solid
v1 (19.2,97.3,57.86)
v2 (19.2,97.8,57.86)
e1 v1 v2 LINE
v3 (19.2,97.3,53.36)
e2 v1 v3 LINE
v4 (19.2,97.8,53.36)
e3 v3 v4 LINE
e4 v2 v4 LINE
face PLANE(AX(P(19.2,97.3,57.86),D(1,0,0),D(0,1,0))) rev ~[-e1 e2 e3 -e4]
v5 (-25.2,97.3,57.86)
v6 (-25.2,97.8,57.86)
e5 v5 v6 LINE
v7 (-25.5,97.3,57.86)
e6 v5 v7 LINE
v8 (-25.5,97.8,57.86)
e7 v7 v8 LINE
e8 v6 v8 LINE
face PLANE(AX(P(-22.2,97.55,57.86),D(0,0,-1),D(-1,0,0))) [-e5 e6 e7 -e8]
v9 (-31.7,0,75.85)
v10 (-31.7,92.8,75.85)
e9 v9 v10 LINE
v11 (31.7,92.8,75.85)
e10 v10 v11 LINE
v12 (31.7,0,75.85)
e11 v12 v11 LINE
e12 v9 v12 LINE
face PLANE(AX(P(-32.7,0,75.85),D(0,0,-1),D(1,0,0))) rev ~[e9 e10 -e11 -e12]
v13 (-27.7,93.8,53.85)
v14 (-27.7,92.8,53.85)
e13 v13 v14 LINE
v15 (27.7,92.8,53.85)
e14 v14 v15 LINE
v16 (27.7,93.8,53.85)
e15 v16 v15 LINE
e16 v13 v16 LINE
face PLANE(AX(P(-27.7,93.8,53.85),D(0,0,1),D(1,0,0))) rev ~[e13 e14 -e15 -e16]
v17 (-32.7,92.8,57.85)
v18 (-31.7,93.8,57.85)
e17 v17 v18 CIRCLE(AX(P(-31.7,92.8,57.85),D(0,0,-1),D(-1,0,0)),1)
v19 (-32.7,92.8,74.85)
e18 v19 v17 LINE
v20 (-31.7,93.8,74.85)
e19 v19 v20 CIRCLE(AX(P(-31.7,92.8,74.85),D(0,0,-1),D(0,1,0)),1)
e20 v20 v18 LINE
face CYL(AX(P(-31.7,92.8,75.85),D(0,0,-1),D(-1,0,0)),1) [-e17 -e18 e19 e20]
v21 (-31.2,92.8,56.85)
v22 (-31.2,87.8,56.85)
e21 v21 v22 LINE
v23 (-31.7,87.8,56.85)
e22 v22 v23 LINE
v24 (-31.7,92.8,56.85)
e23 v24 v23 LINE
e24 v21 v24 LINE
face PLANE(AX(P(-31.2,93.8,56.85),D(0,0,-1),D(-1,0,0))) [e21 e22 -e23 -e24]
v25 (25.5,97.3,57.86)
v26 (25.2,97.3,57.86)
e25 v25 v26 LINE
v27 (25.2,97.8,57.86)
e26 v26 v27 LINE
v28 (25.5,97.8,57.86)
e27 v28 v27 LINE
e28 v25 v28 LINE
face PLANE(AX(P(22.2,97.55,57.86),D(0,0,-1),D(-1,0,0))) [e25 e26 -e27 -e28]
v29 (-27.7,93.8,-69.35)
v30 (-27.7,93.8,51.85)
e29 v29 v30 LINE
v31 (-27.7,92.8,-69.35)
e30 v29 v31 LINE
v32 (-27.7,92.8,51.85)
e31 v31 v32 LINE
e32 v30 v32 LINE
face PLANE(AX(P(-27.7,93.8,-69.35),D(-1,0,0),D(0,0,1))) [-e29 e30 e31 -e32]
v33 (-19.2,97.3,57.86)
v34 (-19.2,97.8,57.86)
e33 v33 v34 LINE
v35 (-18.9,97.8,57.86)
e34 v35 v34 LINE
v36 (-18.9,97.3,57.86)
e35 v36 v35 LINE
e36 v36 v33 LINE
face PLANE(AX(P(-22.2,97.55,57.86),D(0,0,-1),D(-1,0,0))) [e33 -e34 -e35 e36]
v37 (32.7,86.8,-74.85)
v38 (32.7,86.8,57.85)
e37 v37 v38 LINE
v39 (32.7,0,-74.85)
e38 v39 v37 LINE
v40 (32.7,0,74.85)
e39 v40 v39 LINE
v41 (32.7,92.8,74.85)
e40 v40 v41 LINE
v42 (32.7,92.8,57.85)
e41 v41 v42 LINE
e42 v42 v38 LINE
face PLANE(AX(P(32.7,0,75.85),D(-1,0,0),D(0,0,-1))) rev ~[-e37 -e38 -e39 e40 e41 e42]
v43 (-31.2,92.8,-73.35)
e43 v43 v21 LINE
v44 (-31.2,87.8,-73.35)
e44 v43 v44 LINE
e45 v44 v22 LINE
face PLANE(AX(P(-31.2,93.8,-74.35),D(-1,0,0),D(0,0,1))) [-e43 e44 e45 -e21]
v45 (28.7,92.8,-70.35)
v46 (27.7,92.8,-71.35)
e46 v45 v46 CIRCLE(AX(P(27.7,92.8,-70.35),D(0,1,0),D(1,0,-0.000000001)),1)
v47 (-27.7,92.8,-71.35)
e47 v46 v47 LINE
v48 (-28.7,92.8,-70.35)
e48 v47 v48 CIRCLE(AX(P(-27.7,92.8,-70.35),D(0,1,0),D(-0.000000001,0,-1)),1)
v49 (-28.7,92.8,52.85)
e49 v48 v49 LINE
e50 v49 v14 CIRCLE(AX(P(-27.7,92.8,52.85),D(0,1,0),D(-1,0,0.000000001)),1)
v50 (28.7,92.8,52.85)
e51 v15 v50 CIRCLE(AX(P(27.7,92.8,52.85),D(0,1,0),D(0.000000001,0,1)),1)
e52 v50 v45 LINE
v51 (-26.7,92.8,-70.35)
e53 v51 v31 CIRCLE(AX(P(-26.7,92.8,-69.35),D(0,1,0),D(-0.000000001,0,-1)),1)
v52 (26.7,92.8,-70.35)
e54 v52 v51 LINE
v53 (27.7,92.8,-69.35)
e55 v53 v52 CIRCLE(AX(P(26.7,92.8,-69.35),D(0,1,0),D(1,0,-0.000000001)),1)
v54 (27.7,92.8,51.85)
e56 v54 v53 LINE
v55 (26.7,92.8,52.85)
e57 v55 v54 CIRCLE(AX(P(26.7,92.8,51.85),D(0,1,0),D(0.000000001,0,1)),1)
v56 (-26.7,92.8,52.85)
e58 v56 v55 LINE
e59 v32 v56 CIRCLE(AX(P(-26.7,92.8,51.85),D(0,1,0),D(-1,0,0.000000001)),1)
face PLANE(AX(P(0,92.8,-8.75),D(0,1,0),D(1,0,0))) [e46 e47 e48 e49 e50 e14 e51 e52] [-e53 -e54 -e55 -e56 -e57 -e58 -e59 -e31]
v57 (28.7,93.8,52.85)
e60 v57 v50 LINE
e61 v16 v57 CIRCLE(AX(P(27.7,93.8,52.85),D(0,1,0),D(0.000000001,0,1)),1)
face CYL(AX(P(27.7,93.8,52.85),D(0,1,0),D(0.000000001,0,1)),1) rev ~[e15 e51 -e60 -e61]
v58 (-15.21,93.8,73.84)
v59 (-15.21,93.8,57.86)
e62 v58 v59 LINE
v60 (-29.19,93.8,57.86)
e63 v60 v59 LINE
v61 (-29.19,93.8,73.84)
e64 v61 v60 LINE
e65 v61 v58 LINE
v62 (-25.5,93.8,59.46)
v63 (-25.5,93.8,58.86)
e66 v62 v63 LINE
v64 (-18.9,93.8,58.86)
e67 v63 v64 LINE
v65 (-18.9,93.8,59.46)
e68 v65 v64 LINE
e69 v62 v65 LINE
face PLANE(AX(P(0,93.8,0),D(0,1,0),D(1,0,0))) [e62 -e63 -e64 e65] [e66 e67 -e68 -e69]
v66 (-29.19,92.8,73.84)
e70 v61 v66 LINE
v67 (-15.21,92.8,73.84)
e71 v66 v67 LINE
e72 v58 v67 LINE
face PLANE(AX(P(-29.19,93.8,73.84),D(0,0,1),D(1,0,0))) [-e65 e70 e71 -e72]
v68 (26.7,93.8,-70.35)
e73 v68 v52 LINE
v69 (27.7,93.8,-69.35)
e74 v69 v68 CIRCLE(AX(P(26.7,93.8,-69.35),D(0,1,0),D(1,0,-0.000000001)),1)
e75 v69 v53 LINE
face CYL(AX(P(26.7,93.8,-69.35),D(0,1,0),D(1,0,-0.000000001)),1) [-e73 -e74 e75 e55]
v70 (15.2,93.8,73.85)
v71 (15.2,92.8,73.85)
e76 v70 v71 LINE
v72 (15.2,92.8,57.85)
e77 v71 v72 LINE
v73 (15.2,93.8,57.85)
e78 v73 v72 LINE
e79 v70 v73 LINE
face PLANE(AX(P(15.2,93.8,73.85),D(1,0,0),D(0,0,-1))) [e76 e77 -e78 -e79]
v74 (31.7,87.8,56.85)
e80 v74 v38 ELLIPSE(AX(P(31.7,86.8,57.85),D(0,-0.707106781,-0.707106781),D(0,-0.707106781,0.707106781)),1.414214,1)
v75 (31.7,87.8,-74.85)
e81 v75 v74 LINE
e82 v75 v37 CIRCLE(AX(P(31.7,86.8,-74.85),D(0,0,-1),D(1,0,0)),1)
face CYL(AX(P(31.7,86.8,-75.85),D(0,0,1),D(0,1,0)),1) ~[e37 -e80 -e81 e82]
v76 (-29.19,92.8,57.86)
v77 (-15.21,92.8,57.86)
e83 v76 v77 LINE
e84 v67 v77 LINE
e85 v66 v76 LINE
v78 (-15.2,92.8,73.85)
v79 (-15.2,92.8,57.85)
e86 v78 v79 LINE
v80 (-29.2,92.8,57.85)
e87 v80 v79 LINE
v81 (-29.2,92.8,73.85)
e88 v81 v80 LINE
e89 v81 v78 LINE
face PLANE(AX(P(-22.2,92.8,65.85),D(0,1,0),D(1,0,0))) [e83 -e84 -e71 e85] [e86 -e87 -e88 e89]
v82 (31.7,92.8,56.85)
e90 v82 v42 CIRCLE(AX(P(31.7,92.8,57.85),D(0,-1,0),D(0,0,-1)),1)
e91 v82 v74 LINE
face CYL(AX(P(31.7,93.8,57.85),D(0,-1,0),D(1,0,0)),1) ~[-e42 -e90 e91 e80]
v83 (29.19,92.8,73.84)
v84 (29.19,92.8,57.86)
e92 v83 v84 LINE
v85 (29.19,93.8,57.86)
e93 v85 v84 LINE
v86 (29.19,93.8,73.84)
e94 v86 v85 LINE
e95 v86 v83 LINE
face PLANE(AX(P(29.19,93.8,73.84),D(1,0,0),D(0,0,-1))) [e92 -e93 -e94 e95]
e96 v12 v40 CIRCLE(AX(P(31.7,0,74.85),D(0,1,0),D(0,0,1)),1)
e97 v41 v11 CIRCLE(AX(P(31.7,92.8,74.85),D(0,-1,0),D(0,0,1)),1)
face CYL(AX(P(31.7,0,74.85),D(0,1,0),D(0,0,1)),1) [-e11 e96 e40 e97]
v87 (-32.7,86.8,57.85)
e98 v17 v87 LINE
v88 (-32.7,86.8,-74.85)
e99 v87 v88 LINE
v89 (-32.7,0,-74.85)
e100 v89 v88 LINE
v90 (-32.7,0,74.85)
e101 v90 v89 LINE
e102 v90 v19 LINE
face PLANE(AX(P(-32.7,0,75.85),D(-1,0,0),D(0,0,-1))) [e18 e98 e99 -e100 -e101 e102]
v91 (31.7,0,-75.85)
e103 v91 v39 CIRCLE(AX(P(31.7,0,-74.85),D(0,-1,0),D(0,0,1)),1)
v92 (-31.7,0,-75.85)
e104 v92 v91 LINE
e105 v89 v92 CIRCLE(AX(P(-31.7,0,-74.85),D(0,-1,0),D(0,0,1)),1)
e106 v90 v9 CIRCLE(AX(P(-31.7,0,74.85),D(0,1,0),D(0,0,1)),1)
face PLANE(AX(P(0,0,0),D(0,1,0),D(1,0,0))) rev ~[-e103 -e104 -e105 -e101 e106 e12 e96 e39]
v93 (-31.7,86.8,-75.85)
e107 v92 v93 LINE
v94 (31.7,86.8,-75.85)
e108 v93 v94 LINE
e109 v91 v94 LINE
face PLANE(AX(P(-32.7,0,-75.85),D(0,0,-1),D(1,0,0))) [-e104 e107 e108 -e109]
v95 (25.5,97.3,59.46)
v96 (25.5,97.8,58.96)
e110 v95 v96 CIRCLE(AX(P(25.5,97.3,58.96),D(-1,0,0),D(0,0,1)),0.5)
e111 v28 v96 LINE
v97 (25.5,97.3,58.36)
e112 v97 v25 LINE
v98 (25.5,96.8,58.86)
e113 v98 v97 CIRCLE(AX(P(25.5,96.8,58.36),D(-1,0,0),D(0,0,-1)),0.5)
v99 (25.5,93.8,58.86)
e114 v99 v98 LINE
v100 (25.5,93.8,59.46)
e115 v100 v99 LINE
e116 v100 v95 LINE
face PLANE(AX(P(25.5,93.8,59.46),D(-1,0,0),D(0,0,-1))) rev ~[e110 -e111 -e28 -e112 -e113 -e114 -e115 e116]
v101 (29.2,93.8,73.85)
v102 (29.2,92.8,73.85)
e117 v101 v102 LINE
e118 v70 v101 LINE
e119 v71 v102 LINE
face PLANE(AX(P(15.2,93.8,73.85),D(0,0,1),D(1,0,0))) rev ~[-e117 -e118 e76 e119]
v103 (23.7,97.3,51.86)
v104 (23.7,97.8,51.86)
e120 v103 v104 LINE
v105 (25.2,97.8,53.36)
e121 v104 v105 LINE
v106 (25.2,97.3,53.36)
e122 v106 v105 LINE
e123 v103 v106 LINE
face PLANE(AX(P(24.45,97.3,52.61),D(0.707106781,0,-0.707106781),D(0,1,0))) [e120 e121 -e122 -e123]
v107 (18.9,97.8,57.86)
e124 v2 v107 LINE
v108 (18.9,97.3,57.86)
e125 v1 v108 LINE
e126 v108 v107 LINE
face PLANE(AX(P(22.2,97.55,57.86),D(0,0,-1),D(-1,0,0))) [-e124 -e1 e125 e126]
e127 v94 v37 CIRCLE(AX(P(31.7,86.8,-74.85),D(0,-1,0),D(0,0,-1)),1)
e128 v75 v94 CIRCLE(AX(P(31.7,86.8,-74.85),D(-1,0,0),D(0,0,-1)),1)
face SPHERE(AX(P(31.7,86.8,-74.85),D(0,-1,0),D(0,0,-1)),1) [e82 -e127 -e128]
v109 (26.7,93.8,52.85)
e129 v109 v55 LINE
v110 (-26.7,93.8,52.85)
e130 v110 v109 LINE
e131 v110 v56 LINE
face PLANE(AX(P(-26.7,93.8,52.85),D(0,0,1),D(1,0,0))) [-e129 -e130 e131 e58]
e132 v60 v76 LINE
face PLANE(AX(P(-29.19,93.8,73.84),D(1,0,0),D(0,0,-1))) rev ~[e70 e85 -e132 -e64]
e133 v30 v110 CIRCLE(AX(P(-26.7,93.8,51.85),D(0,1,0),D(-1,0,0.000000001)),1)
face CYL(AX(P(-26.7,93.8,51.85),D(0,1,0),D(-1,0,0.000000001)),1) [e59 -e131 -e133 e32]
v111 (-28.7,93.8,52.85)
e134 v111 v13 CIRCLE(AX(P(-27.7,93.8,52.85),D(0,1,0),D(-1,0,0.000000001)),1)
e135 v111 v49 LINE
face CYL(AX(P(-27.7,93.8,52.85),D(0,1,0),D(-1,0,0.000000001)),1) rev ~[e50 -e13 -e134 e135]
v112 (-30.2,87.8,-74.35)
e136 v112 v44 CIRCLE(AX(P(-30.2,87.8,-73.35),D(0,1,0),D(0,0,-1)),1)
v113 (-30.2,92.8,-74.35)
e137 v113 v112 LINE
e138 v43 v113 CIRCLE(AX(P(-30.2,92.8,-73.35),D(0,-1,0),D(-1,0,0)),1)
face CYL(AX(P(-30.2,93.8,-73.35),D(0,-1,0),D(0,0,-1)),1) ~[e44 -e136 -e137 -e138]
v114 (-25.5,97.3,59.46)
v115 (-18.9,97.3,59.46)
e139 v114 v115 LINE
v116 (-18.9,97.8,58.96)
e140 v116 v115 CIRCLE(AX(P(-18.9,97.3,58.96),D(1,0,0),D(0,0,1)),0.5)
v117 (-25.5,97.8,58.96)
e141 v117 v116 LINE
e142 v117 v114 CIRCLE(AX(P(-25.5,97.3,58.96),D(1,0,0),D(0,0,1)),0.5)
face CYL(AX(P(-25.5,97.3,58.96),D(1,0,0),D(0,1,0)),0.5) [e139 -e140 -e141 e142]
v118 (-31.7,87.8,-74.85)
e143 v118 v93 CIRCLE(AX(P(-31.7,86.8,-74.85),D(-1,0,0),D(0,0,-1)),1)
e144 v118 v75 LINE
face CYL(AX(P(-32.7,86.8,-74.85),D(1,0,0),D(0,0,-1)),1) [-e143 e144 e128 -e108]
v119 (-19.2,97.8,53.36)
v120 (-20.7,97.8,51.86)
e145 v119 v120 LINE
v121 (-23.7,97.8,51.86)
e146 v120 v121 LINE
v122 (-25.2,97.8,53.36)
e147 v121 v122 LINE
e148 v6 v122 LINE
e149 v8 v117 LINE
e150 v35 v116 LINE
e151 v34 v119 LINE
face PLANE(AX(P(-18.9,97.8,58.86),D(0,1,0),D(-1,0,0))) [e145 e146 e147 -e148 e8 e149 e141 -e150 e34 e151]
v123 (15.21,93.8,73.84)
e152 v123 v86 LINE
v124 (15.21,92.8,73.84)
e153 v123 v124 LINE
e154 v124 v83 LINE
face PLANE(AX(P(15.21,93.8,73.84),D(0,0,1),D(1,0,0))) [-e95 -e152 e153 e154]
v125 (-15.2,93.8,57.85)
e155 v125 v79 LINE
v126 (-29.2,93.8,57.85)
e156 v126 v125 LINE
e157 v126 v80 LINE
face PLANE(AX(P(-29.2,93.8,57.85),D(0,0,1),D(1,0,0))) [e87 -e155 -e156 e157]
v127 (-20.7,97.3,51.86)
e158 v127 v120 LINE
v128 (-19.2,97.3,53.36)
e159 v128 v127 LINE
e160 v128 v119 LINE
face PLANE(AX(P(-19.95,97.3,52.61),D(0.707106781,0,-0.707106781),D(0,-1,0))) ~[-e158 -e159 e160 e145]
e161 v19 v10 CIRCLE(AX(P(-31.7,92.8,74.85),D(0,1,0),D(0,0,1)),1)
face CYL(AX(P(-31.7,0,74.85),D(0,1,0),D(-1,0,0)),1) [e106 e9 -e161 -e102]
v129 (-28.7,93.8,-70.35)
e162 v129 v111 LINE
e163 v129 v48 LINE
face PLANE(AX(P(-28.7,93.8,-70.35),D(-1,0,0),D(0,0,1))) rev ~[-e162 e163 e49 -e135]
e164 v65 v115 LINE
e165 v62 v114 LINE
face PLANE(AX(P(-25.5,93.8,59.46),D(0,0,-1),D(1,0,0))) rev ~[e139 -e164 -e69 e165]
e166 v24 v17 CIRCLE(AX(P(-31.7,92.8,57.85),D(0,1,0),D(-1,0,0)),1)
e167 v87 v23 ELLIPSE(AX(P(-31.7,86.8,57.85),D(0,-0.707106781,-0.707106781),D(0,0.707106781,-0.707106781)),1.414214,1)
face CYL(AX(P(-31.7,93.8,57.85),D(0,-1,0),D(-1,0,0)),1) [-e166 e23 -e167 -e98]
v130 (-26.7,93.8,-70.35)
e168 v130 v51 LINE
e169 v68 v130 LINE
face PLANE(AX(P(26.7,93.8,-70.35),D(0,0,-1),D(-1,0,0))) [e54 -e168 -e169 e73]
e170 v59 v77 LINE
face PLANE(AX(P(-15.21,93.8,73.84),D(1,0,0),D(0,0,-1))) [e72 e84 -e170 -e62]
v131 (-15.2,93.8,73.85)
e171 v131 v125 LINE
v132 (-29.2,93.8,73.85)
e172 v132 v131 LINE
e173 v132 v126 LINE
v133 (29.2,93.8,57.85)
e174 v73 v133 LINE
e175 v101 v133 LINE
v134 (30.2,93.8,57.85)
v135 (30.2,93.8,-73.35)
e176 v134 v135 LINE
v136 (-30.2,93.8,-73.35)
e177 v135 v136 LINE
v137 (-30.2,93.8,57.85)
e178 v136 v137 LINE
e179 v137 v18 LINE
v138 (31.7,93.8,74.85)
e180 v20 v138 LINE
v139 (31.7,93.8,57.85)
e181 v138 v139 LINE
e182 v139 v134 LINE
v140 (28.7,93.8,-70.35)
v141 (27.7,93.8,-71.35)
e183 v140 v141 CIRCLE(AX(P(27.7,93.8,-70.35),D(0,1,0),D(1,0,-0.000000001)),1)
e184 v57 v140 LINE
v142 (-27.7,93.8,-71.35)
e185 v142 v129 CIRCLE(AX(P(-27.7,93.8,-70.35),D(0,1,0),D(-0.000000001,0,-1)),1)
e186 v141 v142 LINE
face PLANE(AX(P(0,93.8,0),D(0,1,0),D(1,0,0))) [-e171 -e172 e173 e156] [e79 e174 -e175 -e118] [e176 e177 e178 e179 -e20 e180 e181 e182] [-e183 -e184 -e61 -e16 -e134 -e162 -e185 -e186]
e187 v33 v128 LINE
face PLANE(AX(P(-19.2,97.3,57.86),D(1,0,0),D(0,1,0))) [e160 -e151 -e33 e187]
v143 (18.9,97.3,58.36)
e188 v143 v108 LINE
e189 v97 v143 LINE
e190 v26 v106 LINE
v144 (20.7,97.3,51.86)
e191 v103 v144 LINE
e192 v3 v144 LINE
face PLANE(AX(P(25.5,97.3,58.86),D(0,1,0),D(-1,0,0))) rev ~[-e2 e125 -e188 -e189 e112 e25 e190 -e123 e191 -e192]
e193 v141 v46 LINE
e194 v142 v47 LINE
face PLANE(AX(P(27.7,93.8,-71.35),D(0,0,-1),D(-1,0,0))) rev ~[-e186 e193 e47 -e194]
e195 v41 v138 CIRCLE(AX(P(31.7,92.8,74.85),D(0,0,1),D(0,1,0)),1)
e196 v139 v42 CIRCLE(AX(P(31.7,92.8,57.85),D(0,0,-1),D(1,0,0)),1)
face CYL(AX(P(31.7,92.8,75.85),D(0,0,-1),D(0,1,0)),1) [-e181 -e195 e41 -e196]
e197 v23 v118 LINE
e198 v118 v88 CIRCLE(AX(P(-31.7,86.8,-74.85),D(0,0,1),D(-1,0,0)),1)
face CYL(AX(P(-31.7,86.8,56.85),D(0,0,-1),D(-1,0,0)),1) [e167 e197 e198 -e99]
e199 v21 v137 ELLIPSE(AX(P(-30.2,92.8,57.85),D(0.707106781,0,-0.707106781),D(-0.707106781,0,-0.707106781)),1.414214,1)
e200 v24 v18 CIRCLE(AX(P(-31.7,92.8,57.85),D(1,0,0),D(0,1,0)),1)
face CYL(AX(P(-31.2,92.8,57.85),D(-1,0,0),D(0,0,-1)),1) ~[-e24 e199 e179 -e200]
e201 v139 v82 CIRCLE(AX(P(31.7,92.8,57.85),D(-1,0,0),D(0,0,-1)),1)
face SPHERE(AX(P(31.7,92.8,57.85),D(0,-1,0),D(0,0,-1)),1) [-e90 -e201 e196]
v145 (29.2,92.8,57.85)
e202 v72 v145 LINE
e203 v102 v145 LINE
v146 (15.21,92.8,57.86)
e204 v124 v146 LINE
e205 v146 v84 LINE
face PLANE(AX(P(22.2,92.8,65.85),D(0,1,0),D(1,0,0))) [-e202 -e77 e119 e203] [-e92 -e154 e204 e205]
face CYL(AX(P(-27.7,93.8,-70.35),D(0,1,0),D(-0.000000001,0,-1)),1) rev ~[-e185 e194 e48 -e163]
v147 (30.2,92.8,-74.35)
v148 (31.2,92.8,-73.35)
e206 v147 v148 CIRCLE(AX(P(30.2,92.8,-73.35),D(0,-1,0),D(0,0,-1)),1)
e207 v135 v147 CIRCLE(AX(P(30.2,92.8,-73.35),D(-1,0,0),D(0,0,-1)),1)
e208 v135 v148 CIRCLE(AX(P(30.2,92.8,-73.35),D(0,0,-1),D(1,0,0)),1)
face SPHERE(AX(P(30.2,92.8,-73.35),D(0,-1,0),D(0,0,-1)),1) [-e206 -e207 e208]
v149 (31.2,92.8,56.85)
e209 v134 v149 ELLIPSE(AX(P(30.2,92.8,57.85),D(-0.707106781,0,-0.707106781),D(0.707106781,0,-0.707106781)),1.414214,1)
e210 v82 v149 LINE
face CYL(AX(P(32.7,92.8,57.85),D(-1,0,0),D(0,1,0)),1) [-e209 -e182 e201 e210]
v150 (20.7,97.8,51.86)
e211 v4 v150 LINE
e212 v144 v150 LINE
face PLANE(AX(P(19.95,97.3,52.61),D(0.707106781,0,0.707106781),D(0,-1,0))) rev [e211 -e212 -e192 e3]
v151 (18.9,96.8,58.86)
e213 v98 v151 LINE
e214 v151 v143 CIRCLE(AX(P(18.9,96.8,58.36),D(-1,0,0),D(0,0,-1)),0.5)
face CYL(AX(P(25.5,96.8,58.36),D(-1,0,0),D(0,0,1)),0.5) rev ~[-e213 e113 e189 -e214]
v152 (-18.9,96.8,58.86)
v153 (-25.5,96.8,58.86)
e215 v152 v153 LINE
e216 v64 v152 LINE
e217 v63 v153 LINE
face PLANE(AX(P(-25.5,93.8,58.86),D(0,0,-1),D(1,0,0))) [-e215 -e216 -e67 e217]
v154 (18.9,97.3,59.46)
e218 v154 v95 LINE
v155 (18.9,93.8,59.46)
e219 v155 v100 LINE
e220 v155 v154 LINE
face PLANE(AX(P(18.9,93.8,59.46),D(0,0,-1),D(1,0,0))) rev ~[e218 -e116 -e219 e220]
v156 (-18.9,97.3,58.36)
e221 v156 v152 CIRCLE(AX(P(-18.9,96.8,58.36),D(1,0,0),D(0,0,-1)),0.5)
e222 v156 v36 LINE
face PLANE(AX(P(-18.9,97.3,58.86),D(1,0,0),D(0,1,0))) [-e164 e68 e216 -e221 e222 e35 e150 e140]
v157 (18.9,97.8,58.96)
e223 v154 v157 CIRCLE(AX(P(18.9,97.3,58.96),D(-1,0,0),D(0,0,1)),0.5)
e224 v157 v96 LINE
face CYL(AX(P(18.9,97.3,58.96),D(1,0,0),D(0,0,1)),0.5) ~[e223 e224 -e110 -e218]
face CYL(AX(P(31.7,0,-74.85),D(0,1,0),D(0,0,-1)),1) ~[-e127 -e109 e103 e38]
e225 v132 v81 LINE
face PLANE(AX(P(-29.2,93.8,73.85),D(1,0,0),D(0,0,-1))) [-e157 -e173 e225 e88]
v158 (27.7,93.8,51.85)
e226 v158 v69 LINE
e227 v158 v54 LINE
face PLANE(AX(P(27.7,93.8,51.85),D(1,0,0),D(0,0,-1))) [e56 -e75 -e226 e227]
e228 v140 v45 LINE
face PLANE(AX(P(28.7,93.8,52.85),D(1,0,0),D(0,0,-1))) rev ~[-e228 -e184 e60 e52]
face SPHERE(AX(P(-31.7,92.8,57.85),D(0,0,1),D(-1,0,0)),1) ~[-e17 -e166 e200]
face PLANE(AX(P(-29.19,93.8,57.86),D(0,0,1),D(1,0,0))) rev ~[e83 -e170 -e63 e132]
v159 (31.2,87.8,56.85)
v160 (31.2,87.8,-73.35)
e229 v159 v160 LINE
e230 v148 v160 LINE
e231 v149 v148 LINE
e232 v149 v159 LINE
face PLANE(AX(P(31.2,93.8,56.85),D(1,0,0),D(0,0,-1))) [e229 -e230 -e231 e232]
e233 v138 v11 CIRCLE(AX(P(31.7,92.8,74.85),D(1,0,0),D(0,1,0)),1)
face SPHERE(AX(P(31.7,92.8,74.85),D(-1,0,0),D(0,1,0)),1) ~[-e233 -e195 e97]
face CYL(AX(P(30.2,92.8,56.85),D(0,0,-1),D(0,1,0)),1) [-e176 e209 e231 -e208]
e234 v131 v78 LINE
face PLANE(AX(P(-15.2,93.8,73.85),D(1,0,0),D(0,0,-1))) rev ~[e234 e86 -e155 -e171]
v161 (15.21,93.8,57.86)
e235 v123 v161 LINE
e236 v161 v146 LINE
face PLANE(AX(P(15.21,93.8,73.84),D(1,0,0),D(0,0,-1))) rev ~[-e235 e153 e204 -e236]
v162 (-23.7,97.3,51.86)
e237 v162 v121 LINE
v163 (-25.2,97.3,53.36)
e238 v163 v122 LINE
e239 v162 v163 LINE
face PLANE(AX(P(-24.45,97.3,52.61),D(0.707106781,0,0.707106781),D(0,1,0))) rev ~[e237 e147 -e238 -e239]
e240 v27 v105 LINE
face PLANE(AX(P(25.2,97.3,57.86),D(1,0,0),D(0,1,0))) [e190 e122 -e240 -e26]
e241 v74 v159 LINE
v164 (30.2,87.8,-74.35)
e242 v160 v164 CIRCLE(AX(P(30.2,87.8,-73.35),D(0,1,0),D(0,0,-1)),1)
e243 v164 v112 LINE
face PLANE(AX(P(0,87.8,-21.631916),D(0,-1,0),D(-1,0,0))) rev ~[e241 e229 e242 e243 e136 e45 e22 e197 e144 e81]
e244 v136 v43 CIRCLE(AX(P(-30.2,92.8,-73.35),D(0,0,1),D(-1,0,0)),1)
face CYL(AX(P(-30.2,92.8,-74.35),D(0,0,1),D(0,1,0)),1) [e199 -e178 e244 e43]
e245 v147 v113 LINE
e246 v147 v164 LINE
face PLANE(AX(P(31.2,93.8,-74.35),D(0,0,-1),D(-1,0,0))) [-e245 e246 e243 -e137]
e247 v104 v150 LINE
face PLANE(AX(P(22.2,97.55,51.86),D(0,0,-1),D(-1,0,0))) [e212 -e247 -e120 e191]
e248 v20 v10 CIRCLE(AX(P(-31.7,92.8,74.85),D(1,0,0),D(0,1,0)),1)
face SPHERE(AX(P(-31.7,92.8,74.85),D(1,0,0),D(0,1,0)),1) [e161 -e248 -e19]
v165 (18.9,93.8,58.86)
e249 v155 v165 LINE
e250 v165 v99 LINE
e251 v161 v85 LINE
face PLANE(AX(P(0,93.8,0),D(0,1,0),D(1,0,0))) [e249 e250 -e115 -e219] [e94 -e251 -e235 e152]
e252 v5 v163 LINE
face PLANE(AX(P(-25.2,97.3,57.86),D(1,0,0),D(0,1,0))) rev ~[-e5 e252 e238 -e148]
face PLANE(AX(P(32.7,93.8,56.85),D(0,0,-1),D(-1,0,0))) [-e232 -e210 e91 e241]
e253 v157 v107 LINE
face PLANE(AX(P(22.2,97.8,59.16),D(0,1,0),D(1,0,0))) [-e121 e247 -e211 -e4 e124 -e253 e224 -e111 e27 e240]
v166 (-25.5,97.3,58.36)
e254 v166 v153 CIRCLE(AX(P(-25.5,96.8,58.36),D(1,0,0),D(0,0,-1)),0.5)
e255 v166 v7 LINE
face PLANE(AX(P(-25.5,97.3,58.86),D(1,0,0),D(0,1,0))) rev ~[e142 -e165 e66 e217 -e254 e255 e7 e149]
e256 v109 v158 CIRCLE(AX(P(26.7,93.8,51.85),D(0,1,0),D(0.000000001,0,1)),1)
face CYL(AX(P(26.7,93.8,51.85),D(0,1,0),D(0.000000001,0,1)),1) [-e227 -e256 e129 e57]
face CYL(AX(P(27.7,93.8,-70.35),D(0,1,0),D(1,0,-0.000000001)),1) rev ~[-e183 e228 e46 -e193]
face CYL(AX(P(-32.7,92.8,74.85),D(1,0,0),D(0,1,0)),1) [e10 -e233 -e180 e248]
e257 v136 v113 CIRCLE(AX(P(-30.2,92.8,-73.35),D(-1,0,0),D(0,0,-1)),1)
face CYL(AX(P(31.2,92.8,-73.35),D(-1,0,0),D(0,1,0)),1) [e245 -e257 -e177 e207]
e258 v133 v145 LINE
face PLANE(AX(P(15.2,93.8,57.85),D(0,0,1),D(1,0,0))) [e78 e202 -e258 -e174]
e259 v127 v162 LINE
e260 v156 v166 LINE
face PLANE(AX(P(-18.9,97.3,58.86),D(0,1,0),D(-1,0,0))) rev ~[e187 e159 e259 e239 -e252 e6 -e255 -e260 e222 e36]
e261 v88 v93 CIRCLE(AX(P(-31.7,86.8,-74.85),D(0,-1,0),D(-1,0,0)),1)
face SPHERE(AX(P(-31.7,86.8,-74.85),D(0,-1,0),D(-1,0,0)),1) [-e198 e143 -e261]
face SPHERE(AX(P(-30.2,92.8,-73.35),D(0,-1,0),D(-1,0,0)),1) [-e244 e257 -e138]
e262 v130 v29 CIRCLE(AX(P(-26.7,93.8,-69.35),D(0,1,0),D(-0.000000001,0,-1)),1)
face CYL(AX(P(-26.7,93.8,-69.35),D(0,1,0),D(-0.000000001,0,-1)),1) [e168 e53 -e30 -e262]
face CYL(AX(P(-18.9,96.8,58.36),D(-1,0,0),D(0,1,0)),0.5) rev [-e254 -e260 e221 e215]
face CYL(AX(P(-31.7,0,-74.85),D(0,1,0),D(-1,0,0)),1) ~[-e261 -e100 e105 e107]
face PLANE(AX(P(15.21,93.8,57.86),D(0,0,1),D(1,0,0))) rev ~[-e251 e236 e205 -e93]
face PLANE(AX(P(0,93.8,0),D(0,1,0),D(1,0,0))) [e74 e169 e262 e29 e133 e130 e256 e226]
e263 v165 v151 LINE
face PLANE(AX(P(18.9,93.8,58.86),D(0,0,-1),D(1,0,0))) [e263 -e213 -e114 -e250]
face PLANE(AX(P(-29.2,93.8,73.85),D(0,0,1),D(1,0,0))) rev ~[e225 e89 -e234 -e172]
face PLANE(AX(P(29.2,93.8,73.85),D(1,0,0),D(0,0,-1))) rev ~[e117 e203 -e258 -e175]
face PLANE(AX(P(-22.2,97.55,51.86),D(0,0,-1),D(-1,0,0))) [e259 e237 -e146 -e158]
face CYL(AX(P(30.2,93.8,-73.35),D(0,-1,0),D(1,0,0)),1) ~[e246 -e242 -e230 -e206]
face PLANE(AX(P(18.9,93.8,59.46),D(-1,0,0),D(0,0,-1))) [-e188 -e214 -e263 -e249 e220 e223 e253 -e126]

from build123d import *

# Parameters (mm, degrees)
CROQUIS1_W              = 65.4
CROQUIS1_H              = 151.7
SALIENTE_EXTRUIR1_DEPTH = 93.8
CORTAR_EXTRUIR1_DEPTH   = 6
REDONDEO1_R             = 1
CORTAR_EXTRUIR2_DEPTH   = 1
CROQUIS4_W              = 14
CROQUIS4_H              = 16
CROQUIS4_W_2            = 13.98
CROQUIS4_H_2            = 15.98
CORTAR_EXTRUIR3_DEPTH   = 1
CROQUIS5_W              = 6.6
CROQUIS5_H              = 0.6
SALIENTE_EXTRUIR2_DEPTH = 4
CROQUIS6_W              = 6.6
CROQUIS6_H              = 0.5
SALIENTE_EXTRUIR3_DEPTH = 1
CROQUIS7_W              = 6
CROQUIS7_H              = 0.5
SALIENTE_EXTRUIR4_DEPTH = 6
REDONDEO2_R             = 0.5
CHAFL_N1_SIZE           = 1.5


with BuildPart() as part:
    # Croquis1 → Saliente-Extruir1 (new body)
    with BuildSketch(Plane(origin=(0, 0, 0), x_dir=(1, 0, 0), z_dir=(0, 1, 0))):
        Rectangle(CROQUIS1_W, CROQUIS1_H)
    extrude(amount=SALIENTE_EXTRUIR1_DEPTH)

    # Croquis2 → Cortar-Extruir1 (cut)
    with BuildSketch(Plane(origin=(0, 93.8, 0), x_dir=(1, 0, 0), z_dir=(0, 1, 0))):
        Polygon((-32.7, -56.85), (-32.7, 75.85), (32.7, 75.85), (32.7, -56.85), (31.2, -56.85), (31.2, 74.35), (-31.2, 74.35), (-31.2, -56.85), align=None)
    extrude(amount=-CORTAR_EXTRUIR1_DEPTH, mode=Mode.SUBTRACT)

    # Redondeo1
    redondeo1_edges = [part.edges().sort_by_distance(p)[0] for p in [
        (0, 93.8, 75.85),
        (-32.7, 93.8, 66.35),
        (-32.7, 43.9, -75.85),
        (32.7, 43.9, -75.85),
        (-32.7, 87.8, -9.5),
        (-32.7, 90.8, 56.85),
        (0, 87.8, -75.85),
        (32.7, 87.8, -9.5),
        (32.7, 90.8, 56.85),
        (31.2, 90.8, -74.35),
        (-31.2, 90.8, -74.35),
        (-31.95, 93.8, 56.85),
        (-31.2, 93.8, -8.75),
        (0, 93.8, -74.35),
        (31.2, 93.8, -8.75),
        (31.95, 93.8, 56.85),
        (32.7, 93.8, 66.35),
        (32.7, 46.9, 75.85),
        (-32.7, 46.9, 75.85),
    ]]
    fillet(redondeo1_edges, radius=REDONDEO1_R)

    # Croquis3 → Cortar-Extruir2 (cut)
    with BuildSketch(Plane(origin=(0, 93.8, 0), x_dir=(1, 0, 0), z_dir=(0, 1, 0))):
        with BuildLine():
            Line((-27.7, -53.85), (27.7, -53.85))
            ThreePointArc((27.7, -53.85), (28.407106781, -53.557106781), (28.7, -52.85))
            Line((28.7, -52.85), (28.7, 70.35))
            ThreePointArc((28.7, 70.35), (28.407106781, 71.057106781), (27.7, 71.35))
            Line((27.7, 71.35), (-27.7, 71.35))
            ThreePointArc((-27.7, 71.35), (-28.407106781, 71.057106781), (-28.7, 70.35))
            Line((-28.7, 70.35), (-28.7, -52.85))
            ThreePointArc((-28.7, -52.85), (-28.407106781, -53.557106781), (-27.7, -53.85))
        make_face()
        with BuildLine():
            Line((-26.7, -52.85), (26.7, -52.85))
            ThreePointArc((26.7, -52.85), (27.407106781, -52.557106781), (27.7, -51.85))
            Line((27.7, -51.85), (27.7, 69.35))
            ThreePointArc((27.7, 69.35), (27.407106781, 70.057106781), (26.7, 70.35))
            Line((26.7, 70.35), (-26.7, 70.35))
            ThreePointArc((-26.7, 70.35), (-27.407106781, 70.057106781), (-27.7, 69.35))
            Line((-27.7, 69.35), (-27.7, -51.85))
            ThreePointArc((-27.7, -51.85), (-27.407106781, -52.557106781), (-26.7, -52.85))
        make_face(mode=Mode.SUBTRACT)
    extrude(amount=-CORTAR_EXTRUIR2_DEPTH, mode=Mode.SUBTRACT)

    # Croquis4 → Cortar-Extruir3 (cut)
    # profile 1 of 2: a face of its own
    with BuildSketch(Plane(origin=(0, 93.8, 0), x_dir=(1, 0, 0), z_dir=(0, 1, 0))):
        with Locations((-22.2, -65.85)):
            Rectangle(CROQUIS4_W, CROQUIS4_H)
        with Locations((-22.2, -65.85)):
            Rectangle(CROQUIS4_W_2, CROQUIS4_H_2, mode=Mode.SUBTRACT)
    # profile 2 of 2: a face of its own
    with BuildSketch(Plane(origin=(0, 93.8, 0), x_dir=(1, 0, 0), z_dir=(0, 1, 0))):
        with Locations((22.2, -65.85)):
            Rectangle(CROQUIS4_W, CROQUIS4_H)
        with Locations((22.2, -65.85)):
            Rectangle(CROQUIS4_W_2, CROQUIS4_H_2, mode=Mode.SUBTRACT)
    extrude(amount=-CORTAR_EXTRUIR3_DEPTH, mode=Mode.SUBTRACT)

    # Croquis5 → Saliente-Extruir2 (add)
    with BuildSketch(Plane(origin=(0, 93.8, 0), x_dir=(1, 0, 0), z_dir=(0, 1, 0))):
        with Locations((-22.2, -59.16)):
            Rectangle(CROQUIS5_W, CROQUIS5_H)
        with Locations((22.2, -59.16)):
            Rectangle(CROQUIS5_W, CROQUIS5_H)
    extrude(amount=SALIENTE_EXTRUIR2_DEPTH)

    # Croquis6 → Saliente-Extruir3 (add)
    with BuildSketch(Plane(origin=(0, 0, 58.86), x_dir=(-1, 0, 0), z_dir=(0, 0, -1))):
        with Locations((22.2, 97.55)):
            Rectangle(CROQUIS6_W, CROQUIS6_H)
        with Locations((-22.2, 97.55)):
            Rectangle(CROQUIS6_W, CROQUIS6_H)
    extrude(amount=SALIENTE_EXTRUIR3_DEPTH)

    # Croquis7 → Saliente-Extruir4 (add)
    with BuildSketch(Plane(origin=(0, 0, 57.86), x_dir=(-1, 0, 0), z_dir=(0, 0, -1))):
        with Locations((22.2, 97.55)):
            Rectangle(CROQUIS7_W, CROQUIS7_H)
        with Locations((-22.2, 97.55)):
            Rectangle(CROQUIS7_W, CROQUIS7_H)
    extrude(amount=SALIENTE_EXTRUIR4_DEPTH)

    # Redondeo2
    redondeo2_edges = [part.edges().sort_by_distance(p)[0] for p in [
        (-22.2, 97.8, 59.46),
        (22.2, 97.8, 59.46),
        (-22.2, 97.3, 58.86),
        (22.2, 97.3, 58.86),
    ]]
    fillet(redondeo2_edges, radius=REDONDEO2_R)

    # Chaflán1
    chafl_n1_edges = [part.edges().sort_by_distance(p)[0] for p in [
        (-25.2, 97.55, 51.86),
        (-19.2, 97.55, 51.86),
        (25.2, 97.55, 51.86),
        (19.2, 97.55, 51.86),
    ]]
    chamfer(chafl_n1_edges, length=CHAFL_N1_SIZE)


solid = part.part
